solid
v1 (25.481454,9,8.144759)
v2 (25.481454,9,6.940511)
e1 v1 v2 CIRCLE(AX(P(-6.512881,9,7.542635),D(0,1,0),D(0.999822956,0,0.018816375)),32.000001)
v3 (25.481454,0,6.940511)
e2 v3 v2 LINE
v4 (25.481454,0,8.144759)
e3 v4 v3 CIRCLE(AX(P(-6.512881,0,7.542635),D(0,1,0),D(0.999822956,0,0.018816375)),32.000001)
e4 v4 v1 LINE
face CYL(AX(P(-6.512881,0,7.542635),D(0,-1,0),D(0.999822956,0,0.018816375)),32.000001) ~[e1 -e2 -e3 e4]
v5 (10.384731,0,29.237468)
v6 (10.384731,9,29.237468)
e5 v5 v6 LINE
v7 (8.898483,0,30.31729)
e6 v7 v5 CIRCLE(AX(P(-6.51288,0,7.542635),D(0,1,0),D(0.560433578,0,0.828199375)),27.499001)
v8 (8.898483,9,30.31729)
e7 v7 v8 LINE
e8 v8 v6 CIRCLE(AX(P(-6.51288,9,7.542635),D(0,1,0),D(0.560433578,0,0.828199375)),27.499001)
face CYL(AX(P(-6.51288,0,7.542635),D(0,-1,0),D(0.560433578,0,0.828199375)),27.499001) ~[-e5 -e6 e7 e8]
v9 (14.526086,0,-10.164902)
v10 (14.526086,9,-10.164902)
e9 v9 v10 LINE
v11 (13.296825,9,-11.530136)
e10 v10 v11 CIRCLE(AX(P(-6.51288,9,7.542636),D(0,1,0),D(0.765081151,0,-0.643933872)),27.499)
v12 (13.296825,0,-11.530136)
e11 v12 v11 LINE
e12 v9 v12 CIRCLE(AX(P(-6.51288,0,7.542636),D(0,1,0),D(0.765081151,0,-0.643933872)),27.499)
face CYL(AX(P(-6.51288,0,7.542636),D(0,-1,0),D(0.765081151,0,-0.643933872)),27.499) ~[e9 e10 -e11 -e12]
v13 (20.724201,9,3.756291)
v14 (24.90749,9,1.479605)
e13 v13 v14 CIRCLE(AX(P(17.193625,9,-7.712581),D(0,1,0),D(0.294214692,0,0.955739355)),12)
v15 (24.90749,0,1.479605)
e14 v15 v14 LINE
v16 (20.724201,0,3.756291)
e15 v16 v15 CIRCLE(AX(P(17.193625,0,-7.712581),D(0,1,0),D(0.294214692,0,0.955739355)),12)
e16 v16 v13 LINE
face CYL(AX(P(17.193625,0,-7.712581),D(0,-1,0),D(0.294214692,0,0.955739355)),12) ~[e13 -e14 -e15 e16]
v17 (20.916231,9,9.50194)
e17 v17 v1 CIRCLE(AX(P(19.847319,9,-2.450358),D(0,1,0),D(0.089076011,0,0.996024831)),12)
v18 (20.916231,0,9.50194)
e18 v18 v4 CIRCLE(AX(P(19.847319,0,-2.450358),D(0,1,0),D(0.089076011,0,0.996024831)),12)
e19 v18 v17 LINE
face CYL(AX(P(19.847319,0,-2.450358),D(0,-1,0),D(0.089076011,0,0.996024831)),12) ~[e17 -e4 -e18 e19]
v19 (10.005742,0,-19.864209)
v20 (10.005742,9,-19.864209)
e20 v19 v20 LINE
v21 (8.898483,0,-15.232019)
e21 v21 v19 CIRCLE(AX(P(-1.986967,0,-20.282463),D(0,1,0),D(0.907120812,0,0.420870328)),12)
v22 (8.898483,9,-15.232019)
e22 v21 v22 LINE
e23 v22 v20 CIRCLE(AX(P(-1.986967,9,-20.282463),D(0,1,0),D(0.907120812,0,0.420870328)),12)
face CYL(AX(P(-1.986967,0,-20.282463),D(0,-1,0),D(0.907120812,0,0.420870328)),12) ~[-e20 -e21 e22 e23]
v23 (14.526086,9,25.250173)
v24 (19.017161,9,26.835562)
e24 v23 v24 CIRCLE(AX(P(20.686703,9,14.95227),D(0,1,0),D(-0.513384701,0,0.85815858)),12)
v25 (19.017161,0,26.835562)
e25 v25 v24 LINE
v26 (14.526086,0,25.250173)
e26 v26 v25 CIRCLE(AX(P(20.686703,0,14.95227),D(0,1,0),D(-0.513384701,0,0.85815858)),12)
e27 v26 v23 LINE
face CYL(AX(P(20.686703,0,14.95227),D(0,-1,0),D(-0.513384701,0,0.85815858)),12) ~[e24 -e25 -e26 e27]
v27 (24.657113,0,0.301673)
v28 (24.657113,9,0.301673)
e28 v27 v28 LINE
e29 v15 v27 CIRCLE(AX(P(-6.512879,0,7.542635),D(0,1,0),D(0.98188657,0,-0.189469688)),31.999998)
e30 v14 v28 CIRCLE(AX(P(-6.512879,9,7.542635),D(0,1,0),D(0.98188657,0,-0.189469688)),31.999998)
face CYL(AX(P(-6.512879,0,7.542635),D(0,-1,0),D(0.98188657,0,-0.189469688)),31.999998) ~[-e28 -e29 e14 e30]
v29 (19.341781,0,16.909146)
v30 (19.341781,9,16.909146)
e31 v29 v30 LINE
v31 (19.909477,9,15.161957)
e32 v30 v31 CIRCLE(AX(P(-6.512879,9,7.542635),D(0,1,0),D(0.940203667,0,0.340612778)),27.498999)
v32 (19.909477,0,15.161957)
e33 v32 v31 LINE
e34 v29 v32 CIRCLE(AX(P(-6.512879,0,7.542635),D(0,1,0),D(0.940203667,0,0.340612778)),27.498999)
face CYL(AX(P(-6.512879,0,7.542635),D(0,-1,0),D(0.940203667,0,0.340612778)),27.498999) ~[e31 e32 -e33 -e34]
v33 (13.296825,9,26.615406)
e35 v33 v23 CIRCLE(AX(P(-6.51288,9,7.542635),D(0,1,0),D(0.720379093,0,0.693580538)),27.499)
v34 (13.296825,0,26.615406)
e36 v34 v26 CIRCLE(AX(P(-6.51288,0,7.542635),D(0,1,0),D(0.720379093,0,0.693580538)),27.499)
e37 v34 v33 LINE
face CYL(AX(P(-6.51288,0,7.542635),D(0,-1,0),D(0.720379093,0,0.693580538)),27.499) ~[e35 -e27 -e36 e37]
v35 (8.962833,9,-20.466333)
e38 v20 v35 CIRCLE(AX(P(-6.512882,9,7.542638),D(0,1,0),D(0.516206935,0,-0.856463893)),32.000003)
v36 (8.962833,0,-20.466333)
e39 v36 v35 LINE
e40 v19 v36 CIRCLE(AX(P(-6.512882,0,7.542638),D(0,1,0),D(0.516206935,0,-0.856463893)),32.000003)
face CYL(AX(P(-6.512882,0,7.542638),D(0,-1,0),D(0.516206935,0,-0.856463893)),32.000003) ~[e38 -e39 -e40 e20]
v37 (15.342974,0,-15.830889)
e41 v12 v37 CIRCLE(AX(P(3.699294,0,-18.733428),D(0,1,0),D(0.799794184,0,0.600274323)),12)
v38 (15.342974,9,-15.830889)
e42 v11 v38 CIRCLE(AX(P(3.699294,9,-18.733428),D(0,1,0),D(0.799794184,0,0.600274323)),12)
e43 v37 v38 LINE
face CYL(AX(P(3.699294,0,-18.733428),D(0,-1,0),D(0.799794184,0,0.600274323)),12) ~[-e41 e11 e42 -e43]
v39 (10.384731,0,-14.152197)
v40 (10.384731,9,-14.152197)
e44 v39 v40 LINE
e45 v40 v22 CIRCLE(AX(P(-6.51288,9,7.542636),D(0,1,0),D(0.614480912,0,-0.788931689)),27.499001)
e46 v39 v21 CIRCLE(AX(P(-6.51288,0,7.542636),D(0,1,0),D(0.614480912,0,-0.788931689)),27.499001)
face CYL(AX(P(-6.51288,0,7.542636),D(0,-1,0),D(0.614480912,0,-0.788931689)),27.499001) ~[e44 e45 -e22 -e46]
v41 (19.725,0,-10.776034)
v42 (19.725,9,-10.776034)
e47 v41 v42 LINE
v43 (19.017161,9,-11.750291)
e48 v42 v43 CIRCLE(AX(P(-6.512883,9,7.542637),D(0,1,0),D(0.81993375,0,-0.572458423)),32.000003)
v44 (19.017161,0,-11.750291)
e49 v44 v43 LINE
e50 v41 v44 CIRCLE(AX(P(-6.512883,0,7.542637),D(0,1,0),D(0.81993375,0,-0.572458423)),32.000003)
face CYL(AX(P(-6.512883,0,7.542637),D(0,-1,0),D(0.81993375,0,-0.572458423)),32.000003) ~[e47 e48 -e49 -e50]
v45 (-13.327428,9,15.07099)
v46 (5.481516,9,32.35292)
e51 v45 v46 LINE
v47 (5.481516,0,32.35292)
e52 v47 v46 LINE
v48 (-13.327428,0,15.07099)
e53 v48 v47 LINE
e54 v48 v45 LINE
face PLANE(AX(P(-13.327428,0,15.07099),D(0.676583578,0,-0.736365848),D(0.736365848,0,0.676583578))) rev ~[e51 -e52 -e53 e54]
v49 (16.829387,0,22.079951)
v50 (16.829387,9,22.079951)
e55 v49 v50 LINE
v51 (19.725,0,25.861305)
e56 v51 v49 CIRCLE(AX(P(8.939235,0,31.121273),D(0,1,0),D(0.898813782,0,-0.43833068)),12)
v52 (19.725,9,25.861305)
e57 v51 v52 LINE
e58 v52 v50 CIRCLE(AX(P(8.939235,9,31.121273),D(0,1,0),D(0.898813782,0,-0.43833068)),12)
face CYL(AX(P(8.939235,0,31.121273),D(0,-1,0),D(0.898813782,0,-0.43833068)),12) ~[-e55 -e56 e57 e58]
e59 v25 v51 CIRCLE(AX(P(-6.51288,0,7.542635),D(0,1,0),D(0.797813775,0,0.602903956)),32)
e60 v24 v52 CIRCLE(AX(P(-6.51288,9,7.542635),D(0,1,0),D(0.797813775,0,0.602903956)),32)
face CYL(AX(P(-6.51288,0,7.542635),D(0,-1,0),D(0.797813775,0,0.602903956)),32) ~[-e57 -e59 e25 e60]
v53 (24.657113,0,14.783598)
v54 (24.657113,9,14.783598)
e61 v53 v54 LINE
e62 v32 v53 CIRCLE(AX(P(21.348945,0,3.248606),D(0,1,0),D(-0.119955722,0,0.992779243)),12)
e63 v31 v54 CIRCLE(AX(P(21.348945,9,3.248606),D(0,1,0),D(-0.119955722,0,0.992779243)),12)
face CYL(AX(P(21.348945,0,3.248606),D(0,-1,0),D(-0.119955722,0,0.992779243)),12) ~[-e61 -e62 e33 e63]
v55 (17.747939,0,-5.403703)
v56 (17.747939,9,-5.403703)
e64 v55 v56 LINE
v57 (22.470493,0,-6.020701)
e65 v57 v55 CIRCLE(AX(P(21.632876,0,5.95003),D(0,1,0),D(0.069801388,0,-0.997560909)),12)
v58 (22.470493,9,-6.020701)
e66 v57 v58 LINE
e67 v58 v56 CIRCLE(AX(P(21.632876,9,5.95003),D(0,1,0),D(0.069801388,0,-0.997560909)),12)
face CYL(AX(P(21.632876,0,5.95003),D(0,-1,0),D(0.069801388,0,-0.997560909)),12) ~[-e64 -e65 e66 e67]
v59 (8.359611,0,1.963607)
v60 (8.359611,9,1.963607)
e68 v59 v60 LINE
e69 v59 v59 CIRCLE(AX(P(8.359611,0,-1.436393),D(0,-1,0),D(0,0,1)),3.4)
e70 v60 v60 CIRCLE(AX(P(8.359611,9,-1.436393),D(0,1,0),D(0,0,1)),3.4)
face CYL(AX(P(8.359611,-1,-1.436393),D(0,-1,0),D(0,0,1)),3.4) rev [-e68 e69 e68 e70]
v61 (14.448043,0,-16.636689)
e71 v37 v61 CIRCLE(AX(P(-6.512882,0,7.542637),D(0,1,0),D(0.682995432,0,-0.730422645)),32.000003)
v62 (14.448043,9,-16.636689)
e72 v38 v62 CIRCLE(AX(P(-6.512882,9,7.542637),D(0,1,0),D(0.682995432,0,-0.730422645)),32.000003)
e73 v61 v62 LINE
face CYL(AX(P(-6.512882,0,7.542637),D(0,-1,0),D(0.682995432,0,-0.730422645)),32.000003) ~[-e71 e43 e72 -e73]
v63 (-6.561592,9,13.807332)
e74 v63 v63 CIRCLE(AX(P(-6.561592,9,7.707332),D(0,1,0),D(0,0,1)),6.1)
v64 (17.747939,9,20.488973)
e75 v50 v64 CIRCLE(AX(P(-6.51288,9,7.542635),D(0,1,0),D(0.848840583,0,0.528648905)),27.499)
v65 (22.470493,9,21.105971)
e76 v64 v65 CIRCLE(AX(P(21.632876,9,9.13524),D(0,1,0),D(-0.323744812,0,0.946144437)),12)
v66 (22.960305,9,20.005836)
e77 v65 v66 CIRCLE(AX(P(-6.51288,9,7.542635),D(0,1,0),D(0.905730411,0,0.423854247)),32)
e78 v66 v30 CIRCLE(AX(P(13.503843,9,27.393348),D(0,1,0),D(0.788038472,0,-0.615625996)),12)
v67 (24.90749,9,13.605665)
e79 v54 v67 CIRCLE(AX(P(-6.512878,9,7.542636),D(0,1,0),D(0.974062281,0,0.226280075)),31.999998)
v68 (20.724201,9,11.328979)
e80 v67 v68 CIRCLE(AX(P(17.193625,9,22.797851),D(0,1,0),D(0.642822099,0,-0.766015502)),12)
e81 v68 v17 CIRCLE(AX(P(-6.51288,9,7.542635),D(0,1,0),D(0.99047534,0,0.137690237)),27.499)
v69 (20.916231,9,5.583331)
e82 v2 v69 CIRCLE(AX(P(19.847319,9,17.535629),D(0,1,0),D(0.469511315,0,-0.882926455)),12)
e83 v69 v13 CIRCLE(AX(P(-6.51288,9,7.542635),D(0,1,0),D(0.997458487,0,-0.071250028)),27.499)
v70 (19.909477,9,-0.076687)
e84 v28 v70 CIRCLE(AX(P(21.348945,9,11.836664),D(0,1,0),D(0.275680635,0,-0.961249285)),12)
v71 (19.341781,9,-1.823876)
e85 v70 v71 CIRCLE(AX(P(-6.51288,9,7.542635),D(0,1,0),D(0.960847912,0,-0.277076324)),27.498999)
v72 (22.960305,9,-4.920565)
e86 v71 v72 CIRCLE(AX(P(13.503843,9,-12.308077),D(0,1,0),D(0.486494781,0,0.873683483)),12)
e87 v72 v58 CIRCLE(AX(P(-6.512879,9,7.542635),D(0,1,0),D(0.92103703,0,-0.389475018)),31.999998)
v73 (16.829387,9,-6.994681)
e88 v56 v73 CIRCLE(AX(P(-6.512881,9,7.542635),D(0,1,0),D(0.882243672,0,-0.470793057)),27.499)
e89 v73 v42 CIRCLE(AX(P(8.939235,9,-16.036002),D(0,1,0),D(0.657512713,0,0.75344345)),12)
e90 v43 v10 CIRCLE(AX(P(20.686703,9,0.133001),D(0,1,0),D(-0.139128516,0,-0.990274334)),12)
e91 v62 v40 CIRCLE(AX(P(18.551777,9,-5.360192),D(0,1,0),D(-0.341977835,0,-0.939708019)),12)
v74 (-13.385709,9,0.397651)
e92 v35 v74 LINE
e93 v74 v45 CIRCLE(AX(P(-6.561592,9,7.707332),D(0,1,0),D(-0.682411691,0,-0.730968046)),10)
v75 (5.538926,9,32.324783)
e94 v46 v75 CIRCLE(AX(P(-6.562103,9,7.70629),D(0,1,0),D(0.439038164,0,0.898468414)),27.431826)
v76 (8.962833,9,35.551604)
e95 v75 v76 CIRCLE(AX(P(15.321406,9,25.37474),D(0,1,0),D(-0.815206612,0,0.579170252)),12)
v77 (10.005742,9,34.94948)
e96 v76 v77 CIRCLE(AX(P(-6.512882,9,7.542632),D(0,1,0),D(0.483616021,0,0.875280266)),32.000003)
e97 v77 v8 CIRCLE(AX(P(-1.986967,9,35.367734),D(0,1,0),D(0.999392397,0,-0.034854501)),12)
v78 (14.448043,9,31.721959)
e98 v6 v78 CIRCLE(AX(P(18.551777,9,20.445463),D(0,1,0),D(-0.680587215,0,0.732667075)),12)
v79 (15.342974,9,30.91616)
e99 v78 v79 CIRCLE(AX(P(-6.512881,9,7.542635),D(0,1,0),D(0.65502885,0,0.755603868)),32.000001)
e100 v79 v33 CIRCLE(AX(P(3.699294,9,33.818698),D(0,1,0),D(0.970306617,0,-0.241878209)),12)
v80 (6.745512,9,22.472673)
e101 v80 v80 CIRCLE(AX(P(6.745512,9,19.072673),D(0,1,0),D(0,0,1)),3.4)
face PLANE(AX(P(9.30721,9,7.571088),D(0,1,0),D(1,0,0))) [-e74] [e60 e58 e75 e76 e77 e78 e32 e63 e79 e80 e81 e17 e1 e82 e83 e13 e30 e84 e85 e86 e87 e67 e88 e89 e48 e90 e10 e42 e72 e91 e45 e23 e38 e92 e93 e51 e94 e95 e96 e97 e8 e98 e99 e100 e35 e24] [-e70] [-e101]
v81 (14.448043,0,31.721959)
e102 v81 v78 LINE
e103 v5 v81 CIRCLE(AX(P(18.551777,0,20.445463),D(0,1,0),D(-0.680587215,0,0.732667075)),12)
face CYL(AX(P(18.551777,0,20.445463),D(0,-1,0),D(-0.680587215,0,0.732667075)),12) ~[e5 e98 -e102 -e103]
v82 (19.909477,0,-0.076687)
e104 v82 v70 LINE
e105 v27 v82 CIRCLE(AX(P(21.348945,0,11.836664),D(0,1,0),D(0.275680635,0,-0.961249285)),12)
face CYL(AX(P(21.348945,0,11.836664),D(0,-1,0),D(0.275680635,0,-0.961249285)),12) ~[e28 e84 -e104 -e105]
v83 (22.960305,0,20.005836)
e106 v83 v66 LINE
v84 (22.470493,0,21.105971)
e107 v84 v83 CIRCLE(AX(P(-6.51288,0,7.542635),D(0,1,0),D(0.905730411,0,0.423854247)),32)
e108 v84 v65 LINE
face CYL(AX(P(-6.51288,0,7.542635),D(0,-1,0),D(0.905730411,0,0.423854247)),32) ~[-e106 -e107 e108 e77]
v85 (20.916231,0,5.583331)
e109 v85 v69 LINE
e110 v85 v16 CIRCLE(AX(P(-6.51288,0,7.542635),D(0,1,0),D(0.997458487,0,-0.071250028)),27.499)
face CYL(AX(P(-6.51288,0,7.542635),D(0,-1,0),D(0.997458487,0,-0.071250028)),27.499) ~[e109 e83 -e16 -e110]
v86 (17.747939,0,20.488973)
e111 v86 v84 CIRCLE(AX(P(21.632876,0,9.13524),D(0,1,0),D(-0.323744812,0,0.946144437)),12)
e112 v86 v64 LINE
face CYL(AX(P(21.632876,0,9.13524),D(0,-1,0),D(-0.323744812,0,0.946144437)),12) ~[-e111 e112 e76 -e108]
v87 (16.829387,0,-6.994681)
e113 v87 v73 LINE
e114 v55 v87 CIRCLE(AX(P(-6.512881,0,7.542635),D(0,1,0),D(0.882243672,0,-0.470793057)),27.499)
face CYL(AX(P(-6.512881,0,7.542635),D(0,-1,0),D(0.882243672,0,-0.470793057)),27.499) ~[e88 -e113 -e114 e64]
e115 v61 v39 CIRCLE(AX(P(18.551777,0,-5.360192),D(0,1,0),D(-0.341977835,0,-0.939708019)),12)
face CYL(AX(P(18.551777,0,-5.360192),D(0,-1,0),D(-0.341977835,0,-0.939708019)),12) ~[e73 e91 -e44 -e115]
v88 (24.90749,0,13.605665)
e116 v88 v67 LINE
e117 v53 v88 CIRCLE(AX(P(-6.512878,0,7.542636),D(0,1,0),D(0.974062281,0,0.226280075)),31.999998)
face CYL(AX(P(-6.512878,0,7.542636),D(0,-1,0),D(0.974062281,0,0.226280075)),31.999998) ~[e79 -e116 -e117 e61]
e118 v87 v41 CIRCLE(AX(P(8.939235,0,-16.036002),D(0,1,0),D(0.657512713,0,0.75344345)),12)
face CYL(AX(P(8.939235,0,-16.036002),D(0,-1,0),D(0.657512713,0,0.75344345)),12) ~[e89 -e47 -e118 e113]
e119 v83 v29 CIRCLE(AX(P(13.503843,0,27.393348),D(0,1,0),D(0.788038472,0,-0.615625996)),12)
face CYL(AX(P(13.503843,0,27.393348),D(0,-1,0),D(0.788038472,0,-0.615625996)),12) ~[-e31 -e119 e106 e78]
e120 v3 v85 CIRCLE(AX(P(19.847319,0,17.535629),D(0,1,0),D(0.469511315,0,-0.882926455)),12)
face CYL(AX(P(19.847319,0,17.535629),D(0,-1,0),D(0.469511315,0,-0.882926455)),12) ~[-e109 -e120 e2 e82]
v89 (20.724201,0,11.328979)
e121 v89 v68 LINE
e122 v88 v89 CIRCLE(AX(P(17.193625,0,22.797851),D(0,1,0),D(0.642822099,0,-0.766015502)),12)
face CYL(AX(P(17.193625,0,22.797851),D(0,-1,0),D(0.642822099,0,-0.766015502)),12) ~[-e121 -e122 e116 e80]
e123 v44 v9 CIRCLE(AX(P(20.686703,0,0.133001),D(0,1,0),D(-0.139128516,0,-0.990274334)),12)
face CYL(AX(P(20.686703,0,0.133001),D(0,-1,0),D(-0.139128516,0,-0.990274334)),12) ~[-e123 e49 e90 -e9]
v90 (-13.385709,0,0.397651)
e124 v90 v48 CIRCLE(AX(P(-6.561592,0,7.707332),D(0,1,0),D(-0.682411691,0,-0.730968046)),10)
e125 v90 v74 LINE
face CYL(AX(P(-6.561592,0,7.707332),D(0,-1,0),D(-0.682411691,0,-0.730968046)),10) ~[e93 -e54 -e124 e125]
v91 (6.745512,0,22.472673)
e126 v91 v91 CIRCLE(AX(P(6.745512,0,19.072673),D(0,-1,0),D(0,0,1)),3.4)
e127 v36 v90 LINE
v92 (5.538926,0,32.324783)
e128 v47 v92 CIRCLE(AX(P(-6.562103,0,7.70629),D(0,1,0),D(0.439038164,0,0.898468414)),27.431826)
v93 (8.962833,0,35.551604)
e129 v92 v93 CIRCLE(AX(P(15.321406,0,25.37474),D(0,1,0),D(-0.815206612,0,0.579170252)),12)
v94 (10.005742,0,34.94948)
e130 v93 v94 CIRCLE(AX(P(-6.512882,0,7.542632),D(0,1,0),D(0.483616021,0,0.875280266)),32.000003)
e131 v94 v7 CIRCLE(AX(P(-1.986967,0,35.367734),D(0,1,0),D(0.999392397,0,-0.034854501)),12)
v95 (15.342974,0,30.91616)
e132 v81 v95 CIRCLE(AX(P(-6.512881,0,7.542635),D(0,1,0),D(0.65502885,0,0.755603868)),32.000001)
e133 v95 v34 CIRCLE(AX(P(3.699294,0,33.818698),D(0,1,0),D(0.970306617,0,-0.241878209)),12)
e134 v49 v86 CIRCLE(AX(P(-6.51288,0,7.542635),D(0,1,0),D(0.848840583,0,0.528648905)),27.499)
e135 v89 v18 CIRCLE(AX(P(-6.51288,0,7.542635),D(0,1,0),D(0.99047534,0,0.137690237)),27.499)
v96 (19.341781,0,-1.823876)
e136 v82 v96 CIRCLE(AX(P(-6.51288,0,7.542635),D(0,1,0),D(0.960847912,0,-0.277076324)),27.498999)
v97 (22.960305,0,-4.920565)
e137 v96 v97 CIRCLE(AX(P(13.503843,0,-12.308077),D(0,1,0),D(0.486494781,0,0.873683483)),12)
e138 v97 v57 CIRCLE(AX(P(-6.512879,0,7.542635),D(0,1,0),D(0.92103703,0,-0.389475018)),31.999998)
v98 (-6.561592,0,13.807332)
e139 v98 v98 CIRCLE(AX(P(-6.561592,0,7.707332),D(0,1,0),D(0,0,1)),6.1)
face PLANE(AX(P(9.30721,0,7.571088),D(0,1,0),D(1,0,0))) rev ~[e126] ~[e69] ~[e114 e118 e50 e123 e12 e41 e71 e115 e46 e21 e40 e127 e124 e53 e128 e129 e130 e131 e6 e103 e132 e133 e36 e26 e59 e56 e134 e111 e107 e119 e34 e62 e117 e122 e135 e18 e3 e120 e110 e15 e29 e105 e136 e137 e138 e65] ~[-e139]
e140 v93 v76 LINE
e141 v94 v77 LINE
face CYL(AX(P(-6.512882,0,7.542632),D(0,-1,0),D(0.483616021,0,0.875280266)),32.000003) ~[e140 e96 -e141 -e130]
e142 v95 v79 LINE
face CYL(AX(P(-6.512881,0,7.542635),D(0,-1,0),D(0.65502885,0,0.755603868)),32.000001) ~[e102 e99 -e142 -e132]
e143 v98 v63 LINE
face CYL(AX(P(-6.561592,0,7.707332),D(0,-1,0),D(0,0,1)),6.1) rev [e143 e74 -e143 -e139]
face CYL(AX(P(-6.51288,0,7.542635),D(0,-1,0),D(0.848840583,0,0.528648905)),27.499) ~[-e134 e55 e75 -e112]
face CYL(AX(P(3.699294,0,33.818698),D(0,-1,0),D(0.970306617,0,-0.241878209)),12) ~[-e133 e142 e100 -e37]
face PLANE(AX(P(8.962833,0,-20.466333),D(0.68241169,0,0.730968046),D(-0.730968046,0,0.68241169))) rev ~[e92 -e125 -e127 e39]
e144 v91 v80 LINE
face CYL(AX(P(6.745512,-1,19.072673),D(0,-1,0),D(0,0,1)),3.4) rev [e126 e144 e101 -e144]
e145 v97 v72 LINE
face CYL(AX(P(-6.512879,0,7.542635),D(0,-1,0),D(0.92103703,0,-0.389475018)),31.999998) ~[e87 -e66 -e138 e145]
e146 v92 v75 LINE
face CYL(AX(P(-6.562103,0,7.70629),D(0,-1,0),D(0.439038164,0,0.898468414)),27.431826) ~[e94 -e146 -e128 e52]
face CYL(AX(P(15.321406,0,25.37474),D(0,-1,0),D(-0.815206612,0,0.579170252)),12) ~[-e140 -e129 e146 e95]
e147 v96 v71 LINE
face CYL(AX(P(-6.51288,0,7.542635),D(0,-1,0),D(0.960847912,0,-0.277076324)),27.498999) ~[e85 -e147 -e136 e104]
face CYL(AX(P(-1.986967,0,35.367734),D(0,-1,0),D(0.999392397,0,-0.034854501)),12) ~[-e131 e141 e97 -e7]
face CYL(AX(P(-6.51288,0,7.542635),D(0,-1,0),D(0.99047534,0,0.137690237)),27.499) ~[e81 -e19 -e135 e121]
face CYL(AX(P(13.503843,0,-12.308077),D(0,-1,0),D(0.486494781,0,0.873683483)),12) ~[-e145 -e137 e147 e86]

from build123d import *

# Parameters (mm, degrees)
SKETCH_1_R          = 2.6
SKETCH_1_R_2        = 6.1
EXTRUDE_1_DEPTH     = 9
CUT_EXTRUDE_START   = -10
SKETCH_2_R          = 3.4
SKETCH_2_R_2        = 2.6
CUT_EXTRUDE_1_DEPTH = 10


with BuildPart() as part:
    # 草图1 → 凸台-拉伸1 (new body)
    with BuildSketch(Plane(origin=(0, 0, 0), x_dir=(1, 0, 0), z_dir=(0, 1, 0))):
        with BuildLine():
            ThreePointArc((10.005741881, 19.864209328), (9.487119891, 20.17017771), (8.962832505, 20.466333337))
            Line((8.962832505, 20.466333337), (-13.385709221, -0.397651364))
            ThreePointArc((-13.385709221, -0.397651364), (-16.561513437, -7.747050572), (-13.327428101, -15.070990303))
            Line((-13.327428101, -15.070990303), (5.481515962, -32.352919827))
            ThreePointArc((5.481515962, -32.352919827), (5.510229247, -32.338868299), (5.538926138, -32.32478332))
            ThreePointArc((5.538926138, -32.32478332), (7.091187682, -34.107638735), (8.962832505, -35.551603759))
            ThreePointArc((8.962832505, -35.551603759), (9.487119891, -35.255448132), (10.005741881, -34.94947975))
            ThreePointArc((10.005741881, -34.94947975), (9.684229712, -32.57790044), (8.898482853, -30.317289822))
            ThreePointArc((8.898482853, -30.317289822), (9.650626544, -29.789793539), (10.384730504, -29.237467697))
            ThreePointArc((10.384730504, -29.237467697), (12.29188983, -30.683324466), (14.448043063, -31.721959019))
            ThreePointArc((14.448043063, -31.721959019), (14.899299295, -31.323269626), (15.342973746, -30.916159812))
            ThreePointArc((15.342973746, -30.916159812), (14.535408326, -28.663251339), (13.296824545, -26.615406445))
            ThreePointArc((13.296824545, -26.615406445), (13.922859447, -25.943057755), (14.526086474, -25.250172762))
            ThreePointArc((14.526086474, -25.250172762), (16.692180319, -26.267913372), (19.017160696, -26.835561803))
            ThreePointArc((19.017160696, -26.835561803), (19.375663711, -26.351763284), (19.724999921, -25.861304691))
            ThreePointArc((19.724999921, -25.861304691), (18.466675733, -23.825529966), (16.829387085, -22.079951444))
            ThreePointArc((16.829387085, -22.079951444), (17.30195247, -21.292135211), (17.747938649, -20.488973466))
            ThreePointArc((17.747938649, -20.488973466), (20.078298317, -21.034117768), (22.47049304, -21.105971118))
            ThreePointArc((22.47049304, -21.105971118), (22.720574536, -20.558207789), (22.960304836, -20.005835811))
            ThreePointArc((22.960304836, -20.005835811), (21.306216685, -18.276167958), (19.34178054, -16.909145965))
            ThreePointArc((19.34178054, -16.909145965), (19.640223033, -16.040293539), (19.909476627, -15.161957065))
            ThreePointArc((19.909476627, -15.161957065), (22.302254219, -15.210679637), (24.657112899, -14.783597569))
            ThreePointArc((24.657112899, -14.783597569), (24.787843115, -14.195809317), (24.907490141, -13.60566526))
            ThreePointArc((24.907490141, -13.60566526), (22.929929617, -12.257699063), (20.724201261, -11.328979021))
            ThreePointArc((20.724201261, -11.328979021), (20.835477492, -10.417063422), (20.916230828, -9.501939738))
            ThreePointArc((20.916230828, -9.501939738), (23.266850481, -9.052111169), (25.481454494, -8.14475922))
            ThreePointArc((25.481454494, -8.14475922), (25.487119891, -7.542635211), (25.481454494, -6.940511202))
            ThreePointArc((25.481454494, -6.940511202), (23.266850481, -6.033159253), (20.916230828, -5.583330684))
            ThreePointArc((20.916230828, -5.583330684), (20.835477492, -4.668206999), (20.724201261, -3.7562914))
            ThreePointArc((20.724201261, -3.7562914), (22.929929617, -2.827571359), (24.907490141, -1.479605162))
            ThreePointArc((24.907490141, -1.479605162), (24.787843115, -0.889461105), (24.657112899, -0.301672852))
            ThreePointArc((24.657112899, -0.301672852), (22.302254219, 0.125409215), (19.909476627, 0.076686643))
            ThreePointArc((19.909476627, 0.076686643), (19.640223033, 0.955023117), (19.34178054, 1.823875544))
            ThreePointArc((19.34178054, 1.823875544), (21.306216685, 3.190897536), (22.960304836, 4.92056539))
            ThreePointArc((22.960304836, 4.92056539), (22.720574536, 5.472937368), (22.47049304, 6.020700696))
            ThreePointArc((22.47049304, 6.020700696), (20.078298317, 5.948847346), (17.747938649, 5.403703045))
            ThreePointArc((17.747938649, 5.403703045), (17.30195247, 6.206864789), (16.829387085, 6.994681022))
            ThreePointArc((16.829387085, 6.994681022), (18.466675733, 8.740259544), (19.724999921, 10.77603427))
            ThreePointArc((19.724999921, 10.77603427), (19.375663711, 11.266492862), (19.017160696, 11.750291382))
            ThreePointArc((19.017160696, 11.750291382), (16.692180319, 11.18264295), (14.526086474, 10.16490234))
            ThreePointArc((14.526086474, 10.16490234), (13.922859447, 10.857787333), (13.296824545, 11.530136023))
            ThreePointArc((13.296824545, 11.530136023), (14.535408326, 13.577980918), (15.342973746, 15.830889391))
            ThreePointArc((15.342973746, 15.830889391), (14.899299295, 16.237999204), (14.448043063, 16.636688597))
            ThreePointArc((14.448043063, 16.636688597), (12.29188983, 15.598054044), (10.384730504, 14.152197275))
            ThreePointArc((10.384730504, 14.152197275), (9.650626544, 14.704523117), (8.898482853, 15.2320194))
            ThreePointArc((8.898482853, 15.2320194), (9.684229712, 17.492630019), (10.005741881, 19.864209328))
        make_face()
        with Locations(Location((6.745512081, -19.072672674, 0), (0, 0, 270))):
            Circle(SKETCH_1_R, mode=Mode.SUBTRACT)
        with Locations(Location((8.35961056, 1.436393055, 0), (0, 0, 270))):
            Circle(SKETCH_1_R, mode=Mode.SUBTRACT)
        with Locations(Location((-6.561592317, -7.707331828, 0), (0, 0, 270))):
            Circle(SKETCH_1_R_2, mode=Mode.SUBTRACT)
    extrude(amount=EXTRUDE_1_DEPTH)

    # 草图2 → 切除-拉伸1 (cut)
    # profile 1 of 2: a face of its own
    with BuildSketch(Plane(origin=(0, 9, 0), x_dir=(1, 0, 0), z_dir=(0, 1, 0)).offset(CUT_EXTRUDE_START)):
        with Locations(Location((8.35961056, 1.436393055, 0), (0, 0, 270))):
            Circle(SKETCH_2_R)
        with Locations((8.35961056, 1.436393055)):
            Circle(SKETCH_2_R_2, mode=Mode.SUBTRACT)
    # profile 2 of 2: a face of its own
    with BuildSketch(Plane(origin=(0, 9, 0), x_dir=(1, 0, 0), z_dir=(0, 1, 0)).offset(CUT_EXTRUDE_START)):
        with Locations(Location((6.745512081, -19.072672674, 0), (0, 0, 270))):
            Circle(SKETCH_2_R)
        with Locations((6.745512081, -19.072672674)):
            Circle(SKETCH_2_R_2, mode=Mode.SUBTRACT)
    extrude(amount=CUT_EXTRUDE_1_DEPTH, mode=Mode.SUBTRACT)


solid = part.part
